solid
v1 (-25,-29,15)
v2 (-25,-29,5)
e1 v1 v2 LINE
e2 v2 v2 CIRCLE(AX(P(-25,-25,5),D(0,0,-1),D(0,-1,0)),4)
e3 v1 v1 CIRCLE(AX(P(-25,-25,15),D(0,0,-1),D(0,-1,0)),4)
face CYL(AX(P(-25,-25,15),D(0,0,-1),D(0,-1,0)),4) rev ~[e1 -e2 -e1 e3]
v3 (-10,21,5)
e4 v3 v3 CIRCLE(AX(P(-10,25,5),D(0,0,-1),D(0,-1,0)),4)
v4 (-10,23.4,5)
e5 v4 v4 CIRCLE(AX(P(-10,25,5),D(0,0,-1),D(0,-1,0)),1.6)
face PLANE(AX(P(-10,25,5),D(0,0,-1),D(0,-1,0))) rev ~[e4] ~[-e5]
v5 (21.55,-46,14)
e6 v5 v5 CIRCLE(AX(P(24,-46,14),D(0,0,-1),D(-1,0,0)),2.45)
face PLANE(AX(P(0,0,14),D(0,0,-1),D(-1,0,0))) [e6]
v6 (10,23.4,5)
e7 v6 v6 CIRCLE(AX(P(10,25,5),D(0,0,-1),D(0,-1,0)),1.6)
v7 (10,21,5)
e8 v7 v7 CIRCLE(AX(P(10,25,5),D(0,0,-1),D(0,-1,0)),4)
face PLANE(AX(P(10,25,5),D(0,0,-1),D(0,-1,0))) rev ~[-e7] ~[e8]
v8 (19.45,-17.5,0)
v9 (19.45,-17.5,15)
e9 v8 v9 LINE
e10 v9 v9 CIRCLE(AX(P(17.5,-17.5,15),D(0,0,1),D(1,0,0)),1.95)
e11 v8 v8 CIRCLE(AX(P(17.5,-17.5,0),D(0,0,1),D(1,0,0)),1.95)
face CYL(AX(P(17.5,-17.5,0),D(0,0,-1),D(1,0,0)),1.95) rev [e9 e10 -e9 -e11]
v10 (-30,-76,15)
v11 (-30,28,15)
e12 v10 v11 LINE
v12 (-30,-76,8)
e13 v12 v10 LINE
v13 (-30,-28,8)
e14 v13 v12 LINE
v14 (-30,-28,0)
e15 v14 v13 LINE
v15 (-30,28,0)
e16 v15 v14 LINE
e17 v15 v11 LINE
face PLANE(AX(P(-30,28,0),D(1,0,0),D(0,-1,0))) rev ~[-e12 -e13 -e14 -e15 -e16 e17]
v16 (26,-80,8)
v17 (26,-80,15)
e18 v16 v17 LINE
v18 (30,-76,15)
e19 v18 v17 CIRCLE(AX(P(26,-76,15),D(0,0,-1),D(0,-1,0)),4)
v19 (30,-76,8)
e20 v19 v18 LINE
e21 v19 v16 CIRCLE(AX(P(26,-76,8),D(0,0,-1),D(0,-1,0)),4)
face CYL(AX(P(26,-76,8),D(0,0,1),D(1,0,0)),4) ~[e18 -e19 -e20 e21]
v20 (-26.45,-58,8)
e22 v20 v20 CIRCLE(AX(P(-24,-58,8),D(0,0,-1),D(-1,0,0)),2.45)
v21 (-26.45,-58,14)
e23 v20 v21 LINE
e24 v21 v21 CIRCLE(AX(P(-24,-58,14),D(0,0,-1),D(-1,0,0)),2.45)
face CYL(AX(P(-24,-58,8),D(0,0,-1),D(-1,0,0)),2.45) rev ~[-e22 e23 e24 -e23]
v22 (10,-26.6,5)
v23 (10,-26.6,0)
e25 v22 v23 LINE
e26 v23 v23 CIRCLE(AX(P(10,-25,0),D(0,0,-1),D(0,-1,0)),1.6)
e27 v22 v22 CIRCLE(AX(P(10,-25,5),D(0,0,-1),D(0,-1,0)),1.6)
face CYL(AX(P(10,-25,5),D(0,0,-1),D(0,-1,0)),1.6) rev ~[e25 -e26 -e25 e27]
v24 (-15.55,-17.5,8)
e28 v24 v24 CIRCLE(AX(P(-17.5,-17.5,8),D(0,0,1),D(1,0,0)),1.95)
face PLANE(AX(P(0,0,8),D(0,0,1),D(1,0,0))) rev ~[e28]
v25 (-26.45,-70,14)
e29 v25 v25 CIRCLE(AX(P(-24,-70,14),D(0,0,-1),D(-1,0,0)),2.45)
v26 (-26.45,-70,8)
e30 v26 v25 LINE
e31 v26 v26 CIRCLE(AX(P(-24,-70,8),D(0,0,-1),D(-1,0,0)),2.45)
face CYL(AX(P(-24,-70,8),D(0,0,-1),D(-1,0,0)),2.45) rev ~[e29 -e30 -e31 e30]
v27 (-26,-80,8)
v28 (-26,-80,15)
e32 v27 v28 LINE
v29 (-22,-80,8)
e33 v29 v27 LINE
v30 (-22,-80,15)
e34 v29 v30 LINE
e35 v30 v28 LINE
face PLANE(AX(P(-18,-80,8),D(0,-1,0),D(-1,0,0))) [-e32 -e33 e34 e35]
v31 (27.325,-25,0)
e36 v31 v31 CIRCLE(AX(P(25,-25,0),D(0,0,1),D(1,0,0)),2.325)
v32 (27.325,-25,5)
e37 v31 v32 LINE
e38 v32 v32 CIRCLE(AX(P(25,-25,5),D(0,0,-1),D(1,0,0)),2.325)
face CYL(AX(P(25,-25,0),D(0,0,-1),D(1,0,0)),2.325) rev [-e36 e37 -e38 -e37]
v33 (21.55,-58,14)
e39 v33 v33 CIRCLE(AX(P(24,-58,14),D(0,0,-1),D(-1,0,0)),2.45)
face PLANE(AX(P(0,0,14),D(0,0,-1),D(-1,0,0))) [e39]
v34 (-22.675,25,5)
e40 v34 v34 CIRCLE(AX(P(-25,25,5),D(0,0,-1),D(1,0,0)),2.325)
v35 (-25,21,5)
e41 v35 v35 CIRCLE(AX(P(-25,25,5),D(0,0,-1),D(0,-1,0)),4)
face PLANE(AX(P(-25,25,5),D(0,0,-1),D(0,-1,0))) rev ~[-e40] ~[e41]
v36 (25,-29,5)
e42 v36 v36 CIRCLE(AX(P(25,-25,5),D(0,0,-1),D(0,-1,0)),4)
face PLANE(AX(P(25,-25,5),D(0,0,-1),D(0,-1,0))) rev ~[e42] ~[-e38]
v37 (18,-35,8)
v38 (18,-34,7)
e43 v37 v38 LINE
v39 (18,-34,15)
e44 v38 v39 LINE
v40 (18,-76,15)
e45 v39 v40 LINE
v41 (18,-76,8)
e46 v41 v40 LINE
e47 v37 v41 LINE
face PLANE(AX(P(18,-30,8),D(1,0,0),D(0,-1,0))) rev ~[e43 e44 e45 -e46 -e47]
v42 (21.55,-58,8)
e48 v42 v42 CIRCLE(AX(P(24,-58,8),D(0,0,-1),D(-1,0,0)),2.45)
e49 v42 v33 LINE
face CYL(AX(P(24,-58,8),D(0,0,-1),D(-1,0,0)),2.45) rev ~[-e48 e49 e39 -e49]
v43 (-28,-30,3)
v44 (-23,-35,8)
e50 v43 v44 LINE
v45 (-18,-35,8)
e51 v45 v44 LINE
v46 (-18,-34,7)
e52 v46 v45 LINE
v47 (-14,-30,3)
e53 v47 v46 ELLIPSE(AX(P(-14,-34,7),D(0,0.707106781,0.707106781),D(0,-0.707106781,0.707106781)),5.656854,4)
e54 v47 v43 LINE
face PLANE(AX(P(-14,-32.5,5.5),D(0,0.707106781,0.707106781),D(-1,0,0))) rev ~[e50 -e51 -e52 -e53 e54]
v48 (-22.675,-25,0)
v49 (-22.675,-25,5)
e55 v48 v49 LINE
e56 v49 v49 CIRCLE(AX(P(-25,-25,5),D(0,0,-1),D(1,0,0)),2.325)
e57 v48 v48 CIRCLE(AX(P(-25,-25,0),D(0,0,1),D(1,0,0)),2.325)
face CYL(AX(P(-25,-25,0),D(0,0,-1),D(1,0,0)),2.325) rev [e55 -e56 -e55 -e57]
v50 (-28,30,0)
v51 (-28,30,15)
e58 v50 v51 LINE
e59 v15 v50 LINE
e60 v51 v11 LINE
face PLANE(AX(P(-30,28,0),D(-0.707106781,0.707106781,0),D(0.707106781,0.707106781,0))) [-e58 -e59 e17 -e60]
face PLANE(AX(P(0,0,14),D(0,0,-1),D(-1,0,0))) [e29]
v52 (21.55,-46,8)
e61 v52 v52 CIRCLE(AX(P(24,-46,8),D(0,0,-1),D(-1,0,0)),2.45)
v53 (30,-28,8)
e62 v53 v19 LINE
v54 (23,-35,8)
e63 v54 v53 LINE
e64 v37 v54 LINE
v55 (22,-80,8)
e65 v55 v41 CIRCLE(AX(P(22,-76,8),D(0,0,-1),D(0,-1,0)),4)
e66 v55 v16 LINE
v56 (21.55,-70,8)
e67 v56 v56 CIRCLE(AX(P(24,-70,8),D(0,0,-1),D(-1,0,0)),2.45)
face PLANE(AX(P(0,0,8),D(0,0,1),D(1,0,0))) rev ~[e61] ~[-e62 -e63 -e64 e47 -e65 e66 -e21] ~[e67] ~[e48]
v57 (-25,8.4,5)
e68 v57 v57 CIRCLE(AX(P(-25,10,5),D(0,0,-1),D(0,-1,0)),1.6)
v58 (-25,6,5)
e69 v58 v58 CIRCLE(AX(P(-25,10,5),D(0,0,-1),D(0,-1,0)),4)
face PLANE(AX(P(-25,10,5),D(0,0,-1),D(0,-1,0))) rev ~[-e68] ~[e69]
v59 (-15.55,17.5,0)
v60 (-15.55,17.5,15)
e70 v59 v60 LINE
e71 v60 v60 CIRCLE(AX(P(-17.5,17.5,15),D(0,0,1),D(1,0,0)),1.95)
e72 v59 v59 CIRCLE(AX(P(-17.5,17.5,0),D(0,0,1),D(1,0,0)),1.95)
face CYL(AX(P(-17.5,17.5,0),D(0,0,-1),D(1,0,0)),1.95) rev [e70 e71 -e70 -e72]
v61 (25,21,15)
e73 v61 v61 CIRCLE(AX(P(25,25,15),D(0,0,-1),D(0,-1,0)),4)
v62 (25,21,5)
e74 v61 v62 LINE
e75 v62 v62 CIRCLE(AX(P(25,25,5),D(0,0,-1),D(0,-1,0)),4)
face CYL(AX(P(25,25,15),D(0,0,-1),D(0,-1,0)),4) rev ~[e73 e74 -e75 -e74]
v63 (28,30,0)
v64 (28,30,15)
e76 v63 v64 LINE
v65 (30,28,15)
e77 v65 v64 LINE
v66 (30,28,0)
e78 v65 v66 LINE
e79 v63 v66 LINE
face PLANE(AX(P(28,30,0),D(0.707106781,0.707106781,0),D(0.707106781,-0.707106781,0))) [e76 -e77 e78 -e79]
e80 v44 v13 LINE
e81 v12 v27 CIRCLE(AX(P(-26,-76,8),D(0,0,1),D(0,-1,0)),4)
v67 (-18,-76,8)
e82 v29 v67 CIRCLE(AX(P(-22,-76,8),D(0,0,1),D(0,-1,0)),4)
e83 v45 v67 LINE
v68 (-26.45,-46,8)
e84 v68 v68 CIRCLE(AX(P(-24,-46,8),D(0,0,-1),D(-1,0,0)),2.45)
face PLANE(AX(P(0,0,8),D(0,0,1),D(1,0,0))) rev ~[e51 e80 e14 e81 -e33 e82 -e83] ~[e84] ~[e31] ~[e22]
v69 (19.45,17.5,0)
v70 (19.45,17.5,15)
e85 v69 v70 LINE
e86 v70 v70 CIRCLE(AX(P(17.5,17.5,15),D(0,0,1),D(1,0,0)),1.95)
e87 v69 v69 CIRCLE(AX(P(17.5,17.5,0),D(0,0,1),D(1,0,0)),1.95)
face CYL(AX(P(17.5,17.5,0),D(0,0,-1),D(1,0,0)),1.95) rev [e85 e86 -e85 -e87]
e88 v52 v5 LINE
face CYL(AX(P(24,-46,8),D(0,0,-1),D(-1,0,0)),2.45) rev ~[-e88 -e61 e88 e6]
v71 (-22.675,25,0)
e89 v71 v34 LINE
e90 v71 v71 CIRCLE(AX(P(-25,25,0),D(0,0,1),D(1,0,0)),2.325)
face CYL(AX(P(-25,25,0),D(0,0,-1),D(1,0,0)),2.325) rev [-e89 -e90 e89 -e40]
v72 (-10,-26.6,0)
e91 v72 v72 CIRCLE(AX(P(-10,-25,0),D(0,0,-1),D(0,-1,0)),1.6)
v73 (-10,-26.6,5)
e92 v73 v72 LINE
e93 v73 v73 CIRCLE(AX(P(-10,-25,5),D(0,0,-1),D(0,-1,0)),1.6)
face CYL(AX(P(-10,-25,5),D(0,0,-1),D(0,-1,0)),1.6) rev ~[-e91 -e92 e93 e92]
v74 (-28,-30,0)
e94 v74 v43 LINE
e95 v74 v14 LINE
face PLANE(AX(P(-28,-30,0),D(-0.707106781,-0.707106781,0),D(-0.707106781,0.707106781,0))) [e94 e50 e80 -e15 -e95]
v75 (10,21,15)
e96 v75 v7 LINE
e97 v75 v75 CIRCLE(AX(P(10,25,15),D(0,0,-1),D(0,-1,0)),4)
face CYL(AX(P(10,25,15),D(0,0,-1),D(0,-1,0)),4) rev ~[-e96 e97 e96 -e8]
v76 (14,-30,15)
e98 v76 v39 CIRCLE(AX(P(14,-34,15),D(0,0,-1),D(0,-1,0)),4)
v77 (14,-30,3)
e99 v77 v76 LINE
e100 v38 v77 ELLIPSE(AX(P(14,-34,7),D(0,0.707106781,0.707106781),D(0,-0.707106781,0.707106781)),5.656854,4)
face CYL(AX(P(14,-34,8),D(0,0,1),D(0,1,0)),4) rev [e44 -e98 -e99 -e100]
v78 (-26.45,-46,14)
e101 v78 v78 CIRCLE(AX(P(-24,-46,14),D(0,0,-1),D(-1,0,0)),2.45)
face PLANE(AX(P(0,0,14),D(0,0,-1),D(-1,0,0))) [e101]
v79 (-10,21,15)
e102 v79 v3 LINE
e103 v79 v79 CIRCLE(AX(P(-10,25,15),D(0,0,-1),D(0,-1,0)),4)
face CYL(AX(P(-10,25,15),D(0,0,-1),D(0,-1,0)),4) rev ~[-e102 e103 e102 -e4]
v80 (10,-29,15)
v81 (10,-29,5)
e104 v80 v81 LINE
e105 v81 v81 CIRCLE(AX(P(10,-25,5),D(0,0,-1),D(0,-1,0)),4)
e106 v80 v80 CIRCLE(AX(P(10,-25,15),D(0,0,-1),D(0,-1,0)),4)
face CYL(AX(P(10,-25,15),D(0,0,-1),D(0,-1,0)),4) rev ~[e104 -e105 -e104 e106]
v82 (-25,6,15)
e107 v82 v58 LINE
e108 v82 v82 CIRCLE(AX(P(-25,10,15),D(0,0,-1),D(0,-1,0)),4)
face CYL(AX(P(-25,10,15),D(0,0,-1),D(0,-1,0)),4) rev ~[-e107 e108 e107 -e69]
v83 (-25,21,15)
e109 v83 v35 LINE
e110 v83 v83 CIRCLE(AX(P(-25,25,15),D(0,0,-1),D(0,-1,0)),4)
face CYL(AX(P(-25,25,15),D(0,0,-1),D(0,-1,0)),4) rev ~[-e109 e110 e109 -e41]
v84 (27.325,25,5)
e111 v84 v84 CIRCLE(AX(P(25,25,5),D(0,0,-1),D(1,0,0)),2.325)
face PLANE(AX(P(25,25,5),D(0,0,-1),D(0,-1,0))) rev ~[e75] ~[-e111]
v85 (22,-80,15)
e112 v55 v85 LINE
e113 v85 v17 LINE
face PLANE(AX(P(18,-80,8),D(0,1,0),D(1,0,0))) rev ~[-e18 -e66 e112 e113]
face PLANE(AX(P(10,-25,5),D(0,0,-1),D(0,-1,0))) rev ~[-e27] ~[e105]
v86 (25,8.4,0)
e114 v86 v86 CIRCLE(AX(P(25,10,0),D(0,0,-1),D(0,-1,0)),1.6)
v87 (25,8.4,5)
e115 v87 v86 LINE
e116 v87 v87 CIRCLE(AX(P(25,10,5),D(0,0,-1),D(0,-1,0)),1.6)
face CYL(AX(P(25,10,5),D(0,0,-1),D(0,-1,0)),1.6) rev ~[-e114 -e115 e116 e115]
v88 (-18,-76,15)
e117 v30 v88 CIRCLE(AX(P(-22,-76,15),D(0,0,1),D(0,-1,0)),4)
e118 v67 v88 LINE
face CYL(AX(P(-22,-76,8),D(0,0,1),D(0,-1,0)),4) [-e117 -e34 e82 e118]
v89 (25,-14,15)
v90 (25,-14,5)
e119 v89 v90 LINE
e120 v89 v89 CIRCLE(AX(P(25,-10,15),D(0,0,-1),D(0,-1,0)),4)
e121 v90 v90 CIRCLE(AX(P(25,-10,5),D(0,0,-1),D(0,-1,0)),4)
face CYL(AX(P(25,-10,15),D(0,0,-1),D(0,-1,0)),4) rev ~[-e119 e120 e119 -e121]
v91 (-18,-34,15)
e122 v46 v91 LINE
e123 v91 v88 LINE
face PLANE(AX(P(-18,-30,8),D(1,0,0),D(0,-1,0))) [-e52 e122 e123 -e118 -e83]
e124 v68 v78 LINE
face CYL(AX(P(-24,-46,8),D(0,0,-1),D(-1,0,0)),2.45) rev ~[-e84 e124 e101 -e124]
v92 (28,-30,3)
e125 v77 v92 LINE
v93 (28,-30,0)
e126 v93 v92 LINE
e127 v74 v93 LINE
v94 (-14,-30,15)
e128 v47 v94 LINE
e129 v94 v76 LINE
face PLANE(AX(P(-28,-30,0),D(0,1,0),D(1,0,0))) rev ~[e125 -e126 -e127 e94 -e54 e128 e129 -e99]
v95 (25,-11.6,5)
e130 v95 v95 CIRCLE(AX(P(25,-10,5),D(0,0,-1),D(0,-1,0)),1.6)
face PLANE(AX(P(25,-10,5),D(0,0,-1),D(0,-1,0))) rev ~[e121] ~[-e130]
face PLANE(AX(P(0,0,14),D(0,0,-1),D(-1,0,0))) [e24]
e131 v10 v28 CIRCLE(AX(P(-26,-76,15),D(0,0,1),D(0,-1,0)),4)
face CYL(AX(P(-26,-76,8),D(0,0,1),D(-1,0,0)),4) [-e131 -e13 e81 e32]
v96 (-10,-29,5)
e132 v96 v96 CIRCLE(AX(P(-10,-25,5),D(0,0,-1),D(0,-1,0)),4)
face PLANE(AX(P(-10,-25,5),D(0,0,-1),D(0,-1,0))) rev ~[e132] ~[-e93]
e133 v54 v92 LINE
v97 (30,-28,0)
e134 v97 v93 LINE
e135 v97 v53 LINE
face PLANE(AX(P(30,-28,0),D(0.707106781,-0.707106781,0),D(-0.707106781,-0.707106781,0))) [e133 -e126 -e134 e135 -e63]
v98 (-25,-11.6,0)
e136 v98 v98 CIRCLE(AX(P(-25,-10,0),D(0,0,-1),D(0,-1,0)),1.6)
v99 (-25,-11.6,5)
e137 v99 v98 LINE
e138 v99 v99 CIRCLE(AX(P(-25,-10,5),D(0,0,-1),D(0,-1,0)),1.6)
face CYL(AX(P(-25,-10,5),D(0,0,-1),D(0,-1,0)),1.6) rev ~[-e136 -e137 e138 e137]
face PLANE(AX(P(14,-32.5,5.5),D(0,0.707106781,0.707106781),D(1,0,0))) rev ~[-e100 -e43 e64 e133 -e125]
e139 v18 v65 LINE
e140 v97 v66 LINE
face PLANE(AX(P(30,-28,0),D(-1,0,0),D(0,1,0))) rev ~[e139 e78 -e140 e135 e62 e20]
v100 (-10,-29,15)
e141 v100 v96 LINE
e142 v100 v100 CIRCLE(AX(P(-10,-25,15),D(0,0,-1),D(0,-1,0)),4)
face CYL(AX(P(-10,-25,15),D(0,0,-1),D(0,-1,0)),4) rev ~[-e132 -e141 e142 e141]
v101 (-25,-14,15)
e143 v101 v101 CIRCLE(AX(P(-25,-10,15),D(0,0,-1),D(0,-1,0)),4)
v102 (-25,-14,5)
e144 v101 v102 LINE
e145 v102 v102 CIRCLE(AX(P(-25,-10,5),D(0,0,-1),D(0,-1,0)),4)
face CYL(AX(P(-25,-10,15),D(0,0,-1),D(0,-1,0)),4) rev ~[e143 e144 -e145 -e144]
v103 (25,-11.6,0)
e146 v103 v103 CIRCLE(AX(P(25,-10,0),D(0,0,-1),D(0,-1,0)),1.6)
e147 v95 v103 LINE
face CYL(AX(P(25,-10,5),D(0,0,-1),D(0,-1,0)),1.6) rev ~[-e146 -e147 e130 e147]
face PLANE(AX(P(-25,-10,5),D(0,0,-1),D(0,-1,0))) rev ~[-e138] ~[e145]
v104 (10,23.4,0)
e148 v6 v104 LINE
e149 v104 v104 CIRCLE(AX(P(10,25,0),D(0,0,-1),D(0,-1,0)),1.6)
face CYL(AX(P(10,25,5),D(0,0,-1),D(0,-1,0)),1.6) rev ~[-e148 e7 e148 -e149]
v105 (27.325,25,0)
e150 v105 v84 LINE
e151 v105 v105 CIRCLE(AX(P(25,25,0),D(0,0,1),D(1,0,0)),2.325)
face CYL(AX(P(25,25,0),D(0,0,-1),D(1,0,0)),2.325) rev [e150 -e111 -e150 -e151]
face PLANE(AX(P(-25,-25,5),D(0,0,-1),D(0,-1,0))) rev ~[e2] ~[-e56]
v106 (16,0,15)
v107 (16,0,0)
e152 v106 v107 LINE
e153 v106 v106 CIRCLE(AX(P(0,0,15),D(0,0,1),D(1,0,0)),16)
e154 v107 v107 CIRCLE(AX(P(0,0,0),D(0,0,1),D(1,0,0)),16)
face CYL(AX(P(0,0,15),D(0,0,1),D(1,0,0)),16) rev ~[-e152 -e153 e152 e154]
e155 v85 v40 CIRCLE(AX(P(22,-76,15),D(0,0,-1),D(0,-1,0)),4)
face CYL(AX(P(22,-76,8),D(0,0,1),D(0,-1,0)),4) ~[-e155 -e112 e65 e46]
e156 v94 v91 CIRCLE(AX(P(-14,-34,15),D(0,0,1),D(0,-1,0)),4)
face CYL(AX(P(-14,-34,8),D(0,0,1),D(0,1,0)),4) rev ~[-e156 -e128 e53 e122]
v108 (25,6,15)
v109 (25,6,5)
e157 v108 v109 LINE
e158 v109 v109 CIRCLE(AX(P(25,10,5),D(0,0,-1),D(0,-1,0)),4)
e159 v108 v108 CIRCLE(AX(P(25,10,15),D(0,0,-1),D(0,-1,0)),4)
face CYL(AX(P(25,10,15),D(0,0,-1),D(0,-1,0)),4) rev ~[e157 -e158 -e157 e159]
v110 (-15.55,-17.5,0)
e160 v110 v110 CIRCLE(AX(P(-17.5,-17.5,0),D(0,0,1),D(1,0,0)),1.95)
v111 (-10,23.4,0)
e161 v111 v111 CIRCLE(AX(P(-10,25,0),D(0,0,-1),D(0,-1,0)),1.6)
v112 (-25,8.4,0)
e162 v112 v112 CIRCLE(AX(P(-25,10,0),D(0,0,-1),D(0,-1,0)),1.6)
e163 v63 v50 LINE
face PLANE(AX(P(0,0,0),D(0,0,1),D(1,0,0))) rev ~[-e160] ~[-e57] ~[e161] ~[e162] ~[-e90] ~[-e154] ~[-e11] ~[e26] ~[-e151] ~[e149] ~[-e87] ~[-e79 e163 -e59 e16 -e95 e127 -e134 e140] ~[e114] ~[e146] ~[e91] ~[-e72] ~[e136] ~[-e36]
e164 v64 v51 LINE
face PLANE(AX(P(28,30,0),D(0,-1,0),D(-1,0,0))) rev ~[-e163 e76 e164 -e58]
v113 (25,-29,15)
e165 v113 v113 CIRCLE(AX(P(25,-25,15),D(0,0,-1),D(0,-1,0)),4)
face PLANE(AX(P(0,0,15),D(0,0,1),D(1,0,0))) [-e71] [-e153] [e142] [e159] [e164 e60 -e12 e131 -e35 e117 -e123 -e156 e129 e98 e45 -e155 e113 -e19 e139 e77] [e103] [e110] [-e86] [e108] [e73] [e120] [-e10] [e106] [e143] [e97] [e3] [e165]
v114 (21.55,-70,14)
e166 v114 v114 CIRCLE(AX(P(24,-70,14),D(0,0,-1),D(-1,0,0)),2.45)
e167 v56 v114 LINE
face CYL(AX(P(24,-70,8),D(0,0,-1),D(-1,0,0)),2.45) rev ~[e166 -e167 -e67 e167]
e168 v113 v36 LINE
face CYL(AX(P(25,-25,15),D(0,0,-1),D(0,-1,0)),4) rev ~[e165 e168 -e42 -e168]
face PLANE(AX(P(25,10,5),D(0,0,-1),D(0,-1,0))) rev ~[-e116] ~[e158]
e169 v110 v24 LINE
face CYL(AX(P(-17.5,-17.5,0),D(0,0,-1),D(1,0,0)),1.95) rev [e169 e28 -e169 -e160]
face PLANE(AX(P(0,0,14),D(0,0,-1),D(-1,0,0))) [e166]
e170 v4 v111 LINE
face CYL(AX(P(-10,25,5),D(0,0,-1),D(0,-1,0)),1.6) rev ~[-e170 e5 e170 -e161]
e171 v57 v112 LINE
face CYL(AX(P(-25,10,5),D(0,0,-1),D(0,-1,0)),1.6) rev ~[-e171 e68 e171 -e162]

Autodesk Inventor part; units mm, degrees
ref_plane "YZ Plane" through (0, 0, 0) normal (1, 0, 0) x (0, 1, 0)
ref_plane "XZ Plane" through (0, 0, 0) normal (0, 1, 0) x (-1, 0, 0)
ref_plane "XY Plane" through (0, 0, 0) normal (0, 0, 1) x (1, 0, 0)
ref_plane "Work Plane1" through (0, 0, 0) normal (0, 0, 1) x (1, 0, 0)
sketch "Sketch1" plane through (0, 0, 0) normal (0, 0, 1) x (1, 0, 0)
  circle A0 centre (-10, -25) radius 1.45 projected
  circle A1 centre (-10, 25) radius 1.45 projected
  circle A2 centre (10, 25) radius 1.45 projected
  circle A3 centre (10, -25) radius 1.45 projected
  circle A4 centre (-25, 25) radius 2.325 projected
  circle A5 centre (25, -25) radius 2.325 projected
  circle A6 centre (-25, -25) radius 2.325 projected
  circle A7 centre (25, 25) radius 2.325 projected
  line L0 (28, 30) -> (30, 28) projected
  line L1 (28, 30) -> (-28, 30) projected
  line L2 (-30, 28) -> (-28, 30) projected
  line L3 (-30, 28) -> (-30, -28) projected
  line L4 (-28, -30) -> (-30, -28) projected
  line L5 (-28, -30) -> (28, -30) projected
  line L6 (30, -28) -> (28, -30) projected
  line L7 (30, -28) -> (30, 28) projected
  circle A8 centre (-17.5, -17.5) radius 1.95 projected
  circle A9 centre (17.5, 17.5) radius 1.95 projected
  circle A10 centre (17.5, -17.5) radius 1.95 projected
  circle A11 centre (-17.5, 17.5) radius 1.95 projected
  circle A12 centre (0, 0) radius 7.5 projected
  circle A13 centre (-25.33, -75.26) radius 6.15 projected
  circle A14 centre (25, -10) radius 1.45 projected
  circle A15 centre (-25, -10) radius 1.45 projected
  circle A16 centre (-25, 10) radius 1.45 projected
  circle A17 centre (25, 10) radius 1.45 projected
  point P0 (0, 0)
extrude "Extrusion1" add sketch "Sketch1" along normal blind 8 contours L0 L7 L6 L5 L4 L3 L2 L1
sketch "Sketch2" plane through (0, 0, 8) normal (0, 0, 1) x (1, 0, 0)
  circle A0 centre (0, 0) radius 7.5 projected
  circle A1 centre (25, 10) radius 1.45 projected
  circle A2 centre (-25, 10) radius 1.45 projected
  circle A3 centre (-25, -10) radius 1.45 projected
  circle A4 centre (25, -10) radius 1.45 projected
  circle A5 centre (10, -25) radius 1.45 projected
  circle A6 centre (10, 25) radius 1.45 projected
  circle A7 centre (-10, 25) radius 1.45 projected
  circle A8 centre (-10, -25) radius 1.45 projected
  line L0 (-28, -30) -> (28, -30) projected
  line L1 (28, -30) -> (30, -28) projected
  line L2 (30, -28) -> (30, 28) projected
  line L3 (30, 28) -> (28, 30) projected
  line L4 (28, 30) -> (-28, 30) projected
  line L5 (30, -28) -> (30, 28) projected
  line L6 (30, -30) -> (18, -30)
  line L7 (18, -30) -> (18, -80)
  line L8 (18, -80) -> (30, -80)
  line L9 (30, -80) -> (30, -30)
  line L10 (30, 28) -> (30, -28) projected
  line L11 (30, -30) -> (30, -28)
  line L12 (30, -28) -> (28, -30)
  line L13 (-28, 30) -> (-30, 28) projected
  line L14 (-30, 28) -> (-30, -28) projected
  line L15 (-30, -28) -> (-28, -30) projected
  line L16 (-30, -30) -> (-18, -30)
  line L17 (-18, -30) -> (-18, -80)
  line L18 (-18, -80) -> (-30, -80)
  line L19 (-30, -80) -> (-30, -30)
  line L20 (-30, -30) -> (-30, -28)
  line L21 (-30, -28) -> (-28, -30)
  line L22 (-28, -30) -> (-30, -30)
  line L23 (28, -30) -> (30, -28) projected
  line L24 (28, -30) -> (30, -30)
  line L25 (30, -30) -> (30, -28)
  line L26 (30, -28) -> (28, -30)
  circle A9 centre (-17.5, 17.5) radius 1.95 projected
  circle A10 centre (-25, 25) radius 2.325 projected
  circle A11 centre (25, 25) radius 2.325 projected
  circle A12 centre (17.5, 17.5) radius 1.95 projected
  circle A13 centre (17.5, -17.5) radius 1.95 projected
  circle A14 centre (25, -25) radius 2.325 projected
  circle A15 centre (-25, -25) radius 2.325 projected
  point P0 (0, 0)
  point P1 (-24.2387, -104)
  dimension "d57" = 12
  dimension "d58" = 50
  dimension "d59" = 12
extrude "Extrusion2" add sketch "Sketch2" along normal blind 7
fillet "Fillet1" radius 4 6 edges at (30, -80, 11.5) (18, -80, 11.5) (-18, -80, 11.5) (-30, -80, 11.5) (-18, -30, 11.5) (18, -30, 11.5)
sketch "Sketch6" plane through (0, 0, 15) normal (0, 0, 1) x (1, 0, 0)
  line L0 (30, -76) -> (30, 28) projected
  line L1 (30, 28) -> (28, 30) projected
  line L2 (28, 30) -> (-28, 30) projected
  circle A0 centre (-1.1442, -37.6316) radius 2.45
  circle A1 centre (-1.1442, -37.6316) radius 1.45 construction
  line L3 (-14, -30) -> (14, -30) projected
  line L4 (18, -34) -> (18, -76) projected
  line L5 (22, -80) -> (26, -80) projected
  line L6 (-28, 30) -> (-30, 28) projected
  line L7 (-30, 28) -> (-30, -76) projected
  line L8 (-26, -80) -> (-22, -80) projected
  line L9 (-18, -76) -> (-18, -34) projected
  arc A2 (-30, -76) -> (-26, -80) centre (-26, -76) ccw projected
  arc A3 (-22, -80) -> (-18, -76) centre (-22, -76) ccw projected
  arc A4 (-14, -30) -> (-18, -34) centre (-14, -34) ccw projected
  arc A5 (18, -34) -> (14, -30) centre (14, -34) ccw projected
  arc A6 (18, -76) -> (22, -80) centre (22, -76) ccw projected
  arc A7 (26, -80) -> (30, -76) centre (26, -76) ccw projected
  point P0 (0, 0)
  dimension "d27" = 4.9
extrude "Extrusion6" cut sketch "Sketch6" against normal blind 4 contours A0
ref_plane "Work Plane2" through (-6, -91, 19) normal (1, 0, 0) x (0, 0, -1)
sketch "Sketch7" plane through (0, 0, 15) normal (0, 0, 1) x (1, 0, 0)
  circle A0 centre (10, -25) radius 1.45 projected
  circle A1 centre (-10, -25) radius 1.45 projected
  circle A2 centre (-25, -10) radius 1.45 projected
  circle A3 centre (-25, 10) radius 1.45 projected
  circle A4 centre (-10, 25) radius 1.45 projected
  circle A5 centre (10, 25) radius 1.45 projected
  circle A6 centre (25, 10) radius 1.45 projected
  circle A7 centre (25, -10) radius 1.45 projected
  circle A8 centre (-25, 25) radius 2.325 projected
  circle A9 centre (25, 25) radius 2.325 projected
  circle A10 centre (25, -25) radius 2.325 projected
  circle A11 centre (-25, -25) radius 2.325 projected
  point P0 (0, 0)
hole "Hole1" at (-25, -10, 15) at (-25, 10, 15) at (-10, 25, 15) at (10, 25, 15) at (25, 10, 15) at (25, -10, 15) at (10, -25, 15) at (-10, -25, 15) at (-25, 25, 15) at (-25, -25, 15) at (25, -25, 15) at (25, 25, 15) direction (0, 0, -1) diameter 3.2 end through all counterbore diameter 8 counterbore depth 10
sketch "Sketch8" plane through (0, 0, 15) normal (0, 0, 1) x (1, 0, 0)
  circle A0 centre (0, 0) radius 16
  dimension "d41" = 32
extrude "Extrusion7" cut sketch "Sketch8" against normal through all
chamfer "Chamfer3" distance 5 angle 45 2 edges at (21, -30, 8) (-21, -30, 8)
sketch "Sketch10" plane through (0, 0, 8) normal (0, 0, -1) x (-1, 0, 0)
  line L0 (-23, -35) -> (-30, -28) projected
  line L1 (-30, -76) -> (-30, -28) projected
  arc A0 (-30, -76) -> (-26, -80) centre (-26, -76) ccw projected
  line L2 (-22, -80) -> (-26, -80) projected
  arc A1 (-22, -80) -> (-18, -76) centre (-22, -76) ccw projected
  line L3 (-18, -35) -> (-18, -76) projected
  line L4 (-23, -35) -> (-18, -35) projected
  line L5 (18, -35) -> (23, -35) projected
  line L6 (18, -35) -> (18, -76) projected
  arc A2 (18, -76) -> (22, -80) centre (22, -76) ccw projected
  line L7 (22, -80) -> (26, -80) projected
  arc A3 (26, -80) -> (30, -76) centre (26, -76) ccw projected
  line L8 (30, -28) -> (30, -76) projected
  line L9 (30, -28) -> (23, -35) projected
  circle A4 centre (-24, -70) radius 2.45
  circle A5 centre (24, -70) radius 2.45
  circle A6 centre (-24, -58) radius 2.45
  circle A7 centre (24, -58) radius 2.45
  circle A8 centre (-24, -46) radius 2.45
  circle A9 centre (24, -46) radius 2.45
  point P0 (0, 0)
  dimension "d63" = 4.9
  dimension "d64" = 4.9
  dimension "d65" = 4.9
  dimension "d66" = 4.9
  dimension "d67" = 4.9
  dimension "d68" = 4.9
  dimension "d69" = 10
  dimension "d70" = 12
  dimension "d71" = 12
  dimension "d72" = 10
  dimension "d73" = 12
  dimension "d74" = 12
extrude "Extrusion9" cut sketch "Sketch10" against normal blind 6 contours A4 | A5 | A6 | A7 | A8 | A9
properties part number "cellSTORM_UC2_Sample_arm"
